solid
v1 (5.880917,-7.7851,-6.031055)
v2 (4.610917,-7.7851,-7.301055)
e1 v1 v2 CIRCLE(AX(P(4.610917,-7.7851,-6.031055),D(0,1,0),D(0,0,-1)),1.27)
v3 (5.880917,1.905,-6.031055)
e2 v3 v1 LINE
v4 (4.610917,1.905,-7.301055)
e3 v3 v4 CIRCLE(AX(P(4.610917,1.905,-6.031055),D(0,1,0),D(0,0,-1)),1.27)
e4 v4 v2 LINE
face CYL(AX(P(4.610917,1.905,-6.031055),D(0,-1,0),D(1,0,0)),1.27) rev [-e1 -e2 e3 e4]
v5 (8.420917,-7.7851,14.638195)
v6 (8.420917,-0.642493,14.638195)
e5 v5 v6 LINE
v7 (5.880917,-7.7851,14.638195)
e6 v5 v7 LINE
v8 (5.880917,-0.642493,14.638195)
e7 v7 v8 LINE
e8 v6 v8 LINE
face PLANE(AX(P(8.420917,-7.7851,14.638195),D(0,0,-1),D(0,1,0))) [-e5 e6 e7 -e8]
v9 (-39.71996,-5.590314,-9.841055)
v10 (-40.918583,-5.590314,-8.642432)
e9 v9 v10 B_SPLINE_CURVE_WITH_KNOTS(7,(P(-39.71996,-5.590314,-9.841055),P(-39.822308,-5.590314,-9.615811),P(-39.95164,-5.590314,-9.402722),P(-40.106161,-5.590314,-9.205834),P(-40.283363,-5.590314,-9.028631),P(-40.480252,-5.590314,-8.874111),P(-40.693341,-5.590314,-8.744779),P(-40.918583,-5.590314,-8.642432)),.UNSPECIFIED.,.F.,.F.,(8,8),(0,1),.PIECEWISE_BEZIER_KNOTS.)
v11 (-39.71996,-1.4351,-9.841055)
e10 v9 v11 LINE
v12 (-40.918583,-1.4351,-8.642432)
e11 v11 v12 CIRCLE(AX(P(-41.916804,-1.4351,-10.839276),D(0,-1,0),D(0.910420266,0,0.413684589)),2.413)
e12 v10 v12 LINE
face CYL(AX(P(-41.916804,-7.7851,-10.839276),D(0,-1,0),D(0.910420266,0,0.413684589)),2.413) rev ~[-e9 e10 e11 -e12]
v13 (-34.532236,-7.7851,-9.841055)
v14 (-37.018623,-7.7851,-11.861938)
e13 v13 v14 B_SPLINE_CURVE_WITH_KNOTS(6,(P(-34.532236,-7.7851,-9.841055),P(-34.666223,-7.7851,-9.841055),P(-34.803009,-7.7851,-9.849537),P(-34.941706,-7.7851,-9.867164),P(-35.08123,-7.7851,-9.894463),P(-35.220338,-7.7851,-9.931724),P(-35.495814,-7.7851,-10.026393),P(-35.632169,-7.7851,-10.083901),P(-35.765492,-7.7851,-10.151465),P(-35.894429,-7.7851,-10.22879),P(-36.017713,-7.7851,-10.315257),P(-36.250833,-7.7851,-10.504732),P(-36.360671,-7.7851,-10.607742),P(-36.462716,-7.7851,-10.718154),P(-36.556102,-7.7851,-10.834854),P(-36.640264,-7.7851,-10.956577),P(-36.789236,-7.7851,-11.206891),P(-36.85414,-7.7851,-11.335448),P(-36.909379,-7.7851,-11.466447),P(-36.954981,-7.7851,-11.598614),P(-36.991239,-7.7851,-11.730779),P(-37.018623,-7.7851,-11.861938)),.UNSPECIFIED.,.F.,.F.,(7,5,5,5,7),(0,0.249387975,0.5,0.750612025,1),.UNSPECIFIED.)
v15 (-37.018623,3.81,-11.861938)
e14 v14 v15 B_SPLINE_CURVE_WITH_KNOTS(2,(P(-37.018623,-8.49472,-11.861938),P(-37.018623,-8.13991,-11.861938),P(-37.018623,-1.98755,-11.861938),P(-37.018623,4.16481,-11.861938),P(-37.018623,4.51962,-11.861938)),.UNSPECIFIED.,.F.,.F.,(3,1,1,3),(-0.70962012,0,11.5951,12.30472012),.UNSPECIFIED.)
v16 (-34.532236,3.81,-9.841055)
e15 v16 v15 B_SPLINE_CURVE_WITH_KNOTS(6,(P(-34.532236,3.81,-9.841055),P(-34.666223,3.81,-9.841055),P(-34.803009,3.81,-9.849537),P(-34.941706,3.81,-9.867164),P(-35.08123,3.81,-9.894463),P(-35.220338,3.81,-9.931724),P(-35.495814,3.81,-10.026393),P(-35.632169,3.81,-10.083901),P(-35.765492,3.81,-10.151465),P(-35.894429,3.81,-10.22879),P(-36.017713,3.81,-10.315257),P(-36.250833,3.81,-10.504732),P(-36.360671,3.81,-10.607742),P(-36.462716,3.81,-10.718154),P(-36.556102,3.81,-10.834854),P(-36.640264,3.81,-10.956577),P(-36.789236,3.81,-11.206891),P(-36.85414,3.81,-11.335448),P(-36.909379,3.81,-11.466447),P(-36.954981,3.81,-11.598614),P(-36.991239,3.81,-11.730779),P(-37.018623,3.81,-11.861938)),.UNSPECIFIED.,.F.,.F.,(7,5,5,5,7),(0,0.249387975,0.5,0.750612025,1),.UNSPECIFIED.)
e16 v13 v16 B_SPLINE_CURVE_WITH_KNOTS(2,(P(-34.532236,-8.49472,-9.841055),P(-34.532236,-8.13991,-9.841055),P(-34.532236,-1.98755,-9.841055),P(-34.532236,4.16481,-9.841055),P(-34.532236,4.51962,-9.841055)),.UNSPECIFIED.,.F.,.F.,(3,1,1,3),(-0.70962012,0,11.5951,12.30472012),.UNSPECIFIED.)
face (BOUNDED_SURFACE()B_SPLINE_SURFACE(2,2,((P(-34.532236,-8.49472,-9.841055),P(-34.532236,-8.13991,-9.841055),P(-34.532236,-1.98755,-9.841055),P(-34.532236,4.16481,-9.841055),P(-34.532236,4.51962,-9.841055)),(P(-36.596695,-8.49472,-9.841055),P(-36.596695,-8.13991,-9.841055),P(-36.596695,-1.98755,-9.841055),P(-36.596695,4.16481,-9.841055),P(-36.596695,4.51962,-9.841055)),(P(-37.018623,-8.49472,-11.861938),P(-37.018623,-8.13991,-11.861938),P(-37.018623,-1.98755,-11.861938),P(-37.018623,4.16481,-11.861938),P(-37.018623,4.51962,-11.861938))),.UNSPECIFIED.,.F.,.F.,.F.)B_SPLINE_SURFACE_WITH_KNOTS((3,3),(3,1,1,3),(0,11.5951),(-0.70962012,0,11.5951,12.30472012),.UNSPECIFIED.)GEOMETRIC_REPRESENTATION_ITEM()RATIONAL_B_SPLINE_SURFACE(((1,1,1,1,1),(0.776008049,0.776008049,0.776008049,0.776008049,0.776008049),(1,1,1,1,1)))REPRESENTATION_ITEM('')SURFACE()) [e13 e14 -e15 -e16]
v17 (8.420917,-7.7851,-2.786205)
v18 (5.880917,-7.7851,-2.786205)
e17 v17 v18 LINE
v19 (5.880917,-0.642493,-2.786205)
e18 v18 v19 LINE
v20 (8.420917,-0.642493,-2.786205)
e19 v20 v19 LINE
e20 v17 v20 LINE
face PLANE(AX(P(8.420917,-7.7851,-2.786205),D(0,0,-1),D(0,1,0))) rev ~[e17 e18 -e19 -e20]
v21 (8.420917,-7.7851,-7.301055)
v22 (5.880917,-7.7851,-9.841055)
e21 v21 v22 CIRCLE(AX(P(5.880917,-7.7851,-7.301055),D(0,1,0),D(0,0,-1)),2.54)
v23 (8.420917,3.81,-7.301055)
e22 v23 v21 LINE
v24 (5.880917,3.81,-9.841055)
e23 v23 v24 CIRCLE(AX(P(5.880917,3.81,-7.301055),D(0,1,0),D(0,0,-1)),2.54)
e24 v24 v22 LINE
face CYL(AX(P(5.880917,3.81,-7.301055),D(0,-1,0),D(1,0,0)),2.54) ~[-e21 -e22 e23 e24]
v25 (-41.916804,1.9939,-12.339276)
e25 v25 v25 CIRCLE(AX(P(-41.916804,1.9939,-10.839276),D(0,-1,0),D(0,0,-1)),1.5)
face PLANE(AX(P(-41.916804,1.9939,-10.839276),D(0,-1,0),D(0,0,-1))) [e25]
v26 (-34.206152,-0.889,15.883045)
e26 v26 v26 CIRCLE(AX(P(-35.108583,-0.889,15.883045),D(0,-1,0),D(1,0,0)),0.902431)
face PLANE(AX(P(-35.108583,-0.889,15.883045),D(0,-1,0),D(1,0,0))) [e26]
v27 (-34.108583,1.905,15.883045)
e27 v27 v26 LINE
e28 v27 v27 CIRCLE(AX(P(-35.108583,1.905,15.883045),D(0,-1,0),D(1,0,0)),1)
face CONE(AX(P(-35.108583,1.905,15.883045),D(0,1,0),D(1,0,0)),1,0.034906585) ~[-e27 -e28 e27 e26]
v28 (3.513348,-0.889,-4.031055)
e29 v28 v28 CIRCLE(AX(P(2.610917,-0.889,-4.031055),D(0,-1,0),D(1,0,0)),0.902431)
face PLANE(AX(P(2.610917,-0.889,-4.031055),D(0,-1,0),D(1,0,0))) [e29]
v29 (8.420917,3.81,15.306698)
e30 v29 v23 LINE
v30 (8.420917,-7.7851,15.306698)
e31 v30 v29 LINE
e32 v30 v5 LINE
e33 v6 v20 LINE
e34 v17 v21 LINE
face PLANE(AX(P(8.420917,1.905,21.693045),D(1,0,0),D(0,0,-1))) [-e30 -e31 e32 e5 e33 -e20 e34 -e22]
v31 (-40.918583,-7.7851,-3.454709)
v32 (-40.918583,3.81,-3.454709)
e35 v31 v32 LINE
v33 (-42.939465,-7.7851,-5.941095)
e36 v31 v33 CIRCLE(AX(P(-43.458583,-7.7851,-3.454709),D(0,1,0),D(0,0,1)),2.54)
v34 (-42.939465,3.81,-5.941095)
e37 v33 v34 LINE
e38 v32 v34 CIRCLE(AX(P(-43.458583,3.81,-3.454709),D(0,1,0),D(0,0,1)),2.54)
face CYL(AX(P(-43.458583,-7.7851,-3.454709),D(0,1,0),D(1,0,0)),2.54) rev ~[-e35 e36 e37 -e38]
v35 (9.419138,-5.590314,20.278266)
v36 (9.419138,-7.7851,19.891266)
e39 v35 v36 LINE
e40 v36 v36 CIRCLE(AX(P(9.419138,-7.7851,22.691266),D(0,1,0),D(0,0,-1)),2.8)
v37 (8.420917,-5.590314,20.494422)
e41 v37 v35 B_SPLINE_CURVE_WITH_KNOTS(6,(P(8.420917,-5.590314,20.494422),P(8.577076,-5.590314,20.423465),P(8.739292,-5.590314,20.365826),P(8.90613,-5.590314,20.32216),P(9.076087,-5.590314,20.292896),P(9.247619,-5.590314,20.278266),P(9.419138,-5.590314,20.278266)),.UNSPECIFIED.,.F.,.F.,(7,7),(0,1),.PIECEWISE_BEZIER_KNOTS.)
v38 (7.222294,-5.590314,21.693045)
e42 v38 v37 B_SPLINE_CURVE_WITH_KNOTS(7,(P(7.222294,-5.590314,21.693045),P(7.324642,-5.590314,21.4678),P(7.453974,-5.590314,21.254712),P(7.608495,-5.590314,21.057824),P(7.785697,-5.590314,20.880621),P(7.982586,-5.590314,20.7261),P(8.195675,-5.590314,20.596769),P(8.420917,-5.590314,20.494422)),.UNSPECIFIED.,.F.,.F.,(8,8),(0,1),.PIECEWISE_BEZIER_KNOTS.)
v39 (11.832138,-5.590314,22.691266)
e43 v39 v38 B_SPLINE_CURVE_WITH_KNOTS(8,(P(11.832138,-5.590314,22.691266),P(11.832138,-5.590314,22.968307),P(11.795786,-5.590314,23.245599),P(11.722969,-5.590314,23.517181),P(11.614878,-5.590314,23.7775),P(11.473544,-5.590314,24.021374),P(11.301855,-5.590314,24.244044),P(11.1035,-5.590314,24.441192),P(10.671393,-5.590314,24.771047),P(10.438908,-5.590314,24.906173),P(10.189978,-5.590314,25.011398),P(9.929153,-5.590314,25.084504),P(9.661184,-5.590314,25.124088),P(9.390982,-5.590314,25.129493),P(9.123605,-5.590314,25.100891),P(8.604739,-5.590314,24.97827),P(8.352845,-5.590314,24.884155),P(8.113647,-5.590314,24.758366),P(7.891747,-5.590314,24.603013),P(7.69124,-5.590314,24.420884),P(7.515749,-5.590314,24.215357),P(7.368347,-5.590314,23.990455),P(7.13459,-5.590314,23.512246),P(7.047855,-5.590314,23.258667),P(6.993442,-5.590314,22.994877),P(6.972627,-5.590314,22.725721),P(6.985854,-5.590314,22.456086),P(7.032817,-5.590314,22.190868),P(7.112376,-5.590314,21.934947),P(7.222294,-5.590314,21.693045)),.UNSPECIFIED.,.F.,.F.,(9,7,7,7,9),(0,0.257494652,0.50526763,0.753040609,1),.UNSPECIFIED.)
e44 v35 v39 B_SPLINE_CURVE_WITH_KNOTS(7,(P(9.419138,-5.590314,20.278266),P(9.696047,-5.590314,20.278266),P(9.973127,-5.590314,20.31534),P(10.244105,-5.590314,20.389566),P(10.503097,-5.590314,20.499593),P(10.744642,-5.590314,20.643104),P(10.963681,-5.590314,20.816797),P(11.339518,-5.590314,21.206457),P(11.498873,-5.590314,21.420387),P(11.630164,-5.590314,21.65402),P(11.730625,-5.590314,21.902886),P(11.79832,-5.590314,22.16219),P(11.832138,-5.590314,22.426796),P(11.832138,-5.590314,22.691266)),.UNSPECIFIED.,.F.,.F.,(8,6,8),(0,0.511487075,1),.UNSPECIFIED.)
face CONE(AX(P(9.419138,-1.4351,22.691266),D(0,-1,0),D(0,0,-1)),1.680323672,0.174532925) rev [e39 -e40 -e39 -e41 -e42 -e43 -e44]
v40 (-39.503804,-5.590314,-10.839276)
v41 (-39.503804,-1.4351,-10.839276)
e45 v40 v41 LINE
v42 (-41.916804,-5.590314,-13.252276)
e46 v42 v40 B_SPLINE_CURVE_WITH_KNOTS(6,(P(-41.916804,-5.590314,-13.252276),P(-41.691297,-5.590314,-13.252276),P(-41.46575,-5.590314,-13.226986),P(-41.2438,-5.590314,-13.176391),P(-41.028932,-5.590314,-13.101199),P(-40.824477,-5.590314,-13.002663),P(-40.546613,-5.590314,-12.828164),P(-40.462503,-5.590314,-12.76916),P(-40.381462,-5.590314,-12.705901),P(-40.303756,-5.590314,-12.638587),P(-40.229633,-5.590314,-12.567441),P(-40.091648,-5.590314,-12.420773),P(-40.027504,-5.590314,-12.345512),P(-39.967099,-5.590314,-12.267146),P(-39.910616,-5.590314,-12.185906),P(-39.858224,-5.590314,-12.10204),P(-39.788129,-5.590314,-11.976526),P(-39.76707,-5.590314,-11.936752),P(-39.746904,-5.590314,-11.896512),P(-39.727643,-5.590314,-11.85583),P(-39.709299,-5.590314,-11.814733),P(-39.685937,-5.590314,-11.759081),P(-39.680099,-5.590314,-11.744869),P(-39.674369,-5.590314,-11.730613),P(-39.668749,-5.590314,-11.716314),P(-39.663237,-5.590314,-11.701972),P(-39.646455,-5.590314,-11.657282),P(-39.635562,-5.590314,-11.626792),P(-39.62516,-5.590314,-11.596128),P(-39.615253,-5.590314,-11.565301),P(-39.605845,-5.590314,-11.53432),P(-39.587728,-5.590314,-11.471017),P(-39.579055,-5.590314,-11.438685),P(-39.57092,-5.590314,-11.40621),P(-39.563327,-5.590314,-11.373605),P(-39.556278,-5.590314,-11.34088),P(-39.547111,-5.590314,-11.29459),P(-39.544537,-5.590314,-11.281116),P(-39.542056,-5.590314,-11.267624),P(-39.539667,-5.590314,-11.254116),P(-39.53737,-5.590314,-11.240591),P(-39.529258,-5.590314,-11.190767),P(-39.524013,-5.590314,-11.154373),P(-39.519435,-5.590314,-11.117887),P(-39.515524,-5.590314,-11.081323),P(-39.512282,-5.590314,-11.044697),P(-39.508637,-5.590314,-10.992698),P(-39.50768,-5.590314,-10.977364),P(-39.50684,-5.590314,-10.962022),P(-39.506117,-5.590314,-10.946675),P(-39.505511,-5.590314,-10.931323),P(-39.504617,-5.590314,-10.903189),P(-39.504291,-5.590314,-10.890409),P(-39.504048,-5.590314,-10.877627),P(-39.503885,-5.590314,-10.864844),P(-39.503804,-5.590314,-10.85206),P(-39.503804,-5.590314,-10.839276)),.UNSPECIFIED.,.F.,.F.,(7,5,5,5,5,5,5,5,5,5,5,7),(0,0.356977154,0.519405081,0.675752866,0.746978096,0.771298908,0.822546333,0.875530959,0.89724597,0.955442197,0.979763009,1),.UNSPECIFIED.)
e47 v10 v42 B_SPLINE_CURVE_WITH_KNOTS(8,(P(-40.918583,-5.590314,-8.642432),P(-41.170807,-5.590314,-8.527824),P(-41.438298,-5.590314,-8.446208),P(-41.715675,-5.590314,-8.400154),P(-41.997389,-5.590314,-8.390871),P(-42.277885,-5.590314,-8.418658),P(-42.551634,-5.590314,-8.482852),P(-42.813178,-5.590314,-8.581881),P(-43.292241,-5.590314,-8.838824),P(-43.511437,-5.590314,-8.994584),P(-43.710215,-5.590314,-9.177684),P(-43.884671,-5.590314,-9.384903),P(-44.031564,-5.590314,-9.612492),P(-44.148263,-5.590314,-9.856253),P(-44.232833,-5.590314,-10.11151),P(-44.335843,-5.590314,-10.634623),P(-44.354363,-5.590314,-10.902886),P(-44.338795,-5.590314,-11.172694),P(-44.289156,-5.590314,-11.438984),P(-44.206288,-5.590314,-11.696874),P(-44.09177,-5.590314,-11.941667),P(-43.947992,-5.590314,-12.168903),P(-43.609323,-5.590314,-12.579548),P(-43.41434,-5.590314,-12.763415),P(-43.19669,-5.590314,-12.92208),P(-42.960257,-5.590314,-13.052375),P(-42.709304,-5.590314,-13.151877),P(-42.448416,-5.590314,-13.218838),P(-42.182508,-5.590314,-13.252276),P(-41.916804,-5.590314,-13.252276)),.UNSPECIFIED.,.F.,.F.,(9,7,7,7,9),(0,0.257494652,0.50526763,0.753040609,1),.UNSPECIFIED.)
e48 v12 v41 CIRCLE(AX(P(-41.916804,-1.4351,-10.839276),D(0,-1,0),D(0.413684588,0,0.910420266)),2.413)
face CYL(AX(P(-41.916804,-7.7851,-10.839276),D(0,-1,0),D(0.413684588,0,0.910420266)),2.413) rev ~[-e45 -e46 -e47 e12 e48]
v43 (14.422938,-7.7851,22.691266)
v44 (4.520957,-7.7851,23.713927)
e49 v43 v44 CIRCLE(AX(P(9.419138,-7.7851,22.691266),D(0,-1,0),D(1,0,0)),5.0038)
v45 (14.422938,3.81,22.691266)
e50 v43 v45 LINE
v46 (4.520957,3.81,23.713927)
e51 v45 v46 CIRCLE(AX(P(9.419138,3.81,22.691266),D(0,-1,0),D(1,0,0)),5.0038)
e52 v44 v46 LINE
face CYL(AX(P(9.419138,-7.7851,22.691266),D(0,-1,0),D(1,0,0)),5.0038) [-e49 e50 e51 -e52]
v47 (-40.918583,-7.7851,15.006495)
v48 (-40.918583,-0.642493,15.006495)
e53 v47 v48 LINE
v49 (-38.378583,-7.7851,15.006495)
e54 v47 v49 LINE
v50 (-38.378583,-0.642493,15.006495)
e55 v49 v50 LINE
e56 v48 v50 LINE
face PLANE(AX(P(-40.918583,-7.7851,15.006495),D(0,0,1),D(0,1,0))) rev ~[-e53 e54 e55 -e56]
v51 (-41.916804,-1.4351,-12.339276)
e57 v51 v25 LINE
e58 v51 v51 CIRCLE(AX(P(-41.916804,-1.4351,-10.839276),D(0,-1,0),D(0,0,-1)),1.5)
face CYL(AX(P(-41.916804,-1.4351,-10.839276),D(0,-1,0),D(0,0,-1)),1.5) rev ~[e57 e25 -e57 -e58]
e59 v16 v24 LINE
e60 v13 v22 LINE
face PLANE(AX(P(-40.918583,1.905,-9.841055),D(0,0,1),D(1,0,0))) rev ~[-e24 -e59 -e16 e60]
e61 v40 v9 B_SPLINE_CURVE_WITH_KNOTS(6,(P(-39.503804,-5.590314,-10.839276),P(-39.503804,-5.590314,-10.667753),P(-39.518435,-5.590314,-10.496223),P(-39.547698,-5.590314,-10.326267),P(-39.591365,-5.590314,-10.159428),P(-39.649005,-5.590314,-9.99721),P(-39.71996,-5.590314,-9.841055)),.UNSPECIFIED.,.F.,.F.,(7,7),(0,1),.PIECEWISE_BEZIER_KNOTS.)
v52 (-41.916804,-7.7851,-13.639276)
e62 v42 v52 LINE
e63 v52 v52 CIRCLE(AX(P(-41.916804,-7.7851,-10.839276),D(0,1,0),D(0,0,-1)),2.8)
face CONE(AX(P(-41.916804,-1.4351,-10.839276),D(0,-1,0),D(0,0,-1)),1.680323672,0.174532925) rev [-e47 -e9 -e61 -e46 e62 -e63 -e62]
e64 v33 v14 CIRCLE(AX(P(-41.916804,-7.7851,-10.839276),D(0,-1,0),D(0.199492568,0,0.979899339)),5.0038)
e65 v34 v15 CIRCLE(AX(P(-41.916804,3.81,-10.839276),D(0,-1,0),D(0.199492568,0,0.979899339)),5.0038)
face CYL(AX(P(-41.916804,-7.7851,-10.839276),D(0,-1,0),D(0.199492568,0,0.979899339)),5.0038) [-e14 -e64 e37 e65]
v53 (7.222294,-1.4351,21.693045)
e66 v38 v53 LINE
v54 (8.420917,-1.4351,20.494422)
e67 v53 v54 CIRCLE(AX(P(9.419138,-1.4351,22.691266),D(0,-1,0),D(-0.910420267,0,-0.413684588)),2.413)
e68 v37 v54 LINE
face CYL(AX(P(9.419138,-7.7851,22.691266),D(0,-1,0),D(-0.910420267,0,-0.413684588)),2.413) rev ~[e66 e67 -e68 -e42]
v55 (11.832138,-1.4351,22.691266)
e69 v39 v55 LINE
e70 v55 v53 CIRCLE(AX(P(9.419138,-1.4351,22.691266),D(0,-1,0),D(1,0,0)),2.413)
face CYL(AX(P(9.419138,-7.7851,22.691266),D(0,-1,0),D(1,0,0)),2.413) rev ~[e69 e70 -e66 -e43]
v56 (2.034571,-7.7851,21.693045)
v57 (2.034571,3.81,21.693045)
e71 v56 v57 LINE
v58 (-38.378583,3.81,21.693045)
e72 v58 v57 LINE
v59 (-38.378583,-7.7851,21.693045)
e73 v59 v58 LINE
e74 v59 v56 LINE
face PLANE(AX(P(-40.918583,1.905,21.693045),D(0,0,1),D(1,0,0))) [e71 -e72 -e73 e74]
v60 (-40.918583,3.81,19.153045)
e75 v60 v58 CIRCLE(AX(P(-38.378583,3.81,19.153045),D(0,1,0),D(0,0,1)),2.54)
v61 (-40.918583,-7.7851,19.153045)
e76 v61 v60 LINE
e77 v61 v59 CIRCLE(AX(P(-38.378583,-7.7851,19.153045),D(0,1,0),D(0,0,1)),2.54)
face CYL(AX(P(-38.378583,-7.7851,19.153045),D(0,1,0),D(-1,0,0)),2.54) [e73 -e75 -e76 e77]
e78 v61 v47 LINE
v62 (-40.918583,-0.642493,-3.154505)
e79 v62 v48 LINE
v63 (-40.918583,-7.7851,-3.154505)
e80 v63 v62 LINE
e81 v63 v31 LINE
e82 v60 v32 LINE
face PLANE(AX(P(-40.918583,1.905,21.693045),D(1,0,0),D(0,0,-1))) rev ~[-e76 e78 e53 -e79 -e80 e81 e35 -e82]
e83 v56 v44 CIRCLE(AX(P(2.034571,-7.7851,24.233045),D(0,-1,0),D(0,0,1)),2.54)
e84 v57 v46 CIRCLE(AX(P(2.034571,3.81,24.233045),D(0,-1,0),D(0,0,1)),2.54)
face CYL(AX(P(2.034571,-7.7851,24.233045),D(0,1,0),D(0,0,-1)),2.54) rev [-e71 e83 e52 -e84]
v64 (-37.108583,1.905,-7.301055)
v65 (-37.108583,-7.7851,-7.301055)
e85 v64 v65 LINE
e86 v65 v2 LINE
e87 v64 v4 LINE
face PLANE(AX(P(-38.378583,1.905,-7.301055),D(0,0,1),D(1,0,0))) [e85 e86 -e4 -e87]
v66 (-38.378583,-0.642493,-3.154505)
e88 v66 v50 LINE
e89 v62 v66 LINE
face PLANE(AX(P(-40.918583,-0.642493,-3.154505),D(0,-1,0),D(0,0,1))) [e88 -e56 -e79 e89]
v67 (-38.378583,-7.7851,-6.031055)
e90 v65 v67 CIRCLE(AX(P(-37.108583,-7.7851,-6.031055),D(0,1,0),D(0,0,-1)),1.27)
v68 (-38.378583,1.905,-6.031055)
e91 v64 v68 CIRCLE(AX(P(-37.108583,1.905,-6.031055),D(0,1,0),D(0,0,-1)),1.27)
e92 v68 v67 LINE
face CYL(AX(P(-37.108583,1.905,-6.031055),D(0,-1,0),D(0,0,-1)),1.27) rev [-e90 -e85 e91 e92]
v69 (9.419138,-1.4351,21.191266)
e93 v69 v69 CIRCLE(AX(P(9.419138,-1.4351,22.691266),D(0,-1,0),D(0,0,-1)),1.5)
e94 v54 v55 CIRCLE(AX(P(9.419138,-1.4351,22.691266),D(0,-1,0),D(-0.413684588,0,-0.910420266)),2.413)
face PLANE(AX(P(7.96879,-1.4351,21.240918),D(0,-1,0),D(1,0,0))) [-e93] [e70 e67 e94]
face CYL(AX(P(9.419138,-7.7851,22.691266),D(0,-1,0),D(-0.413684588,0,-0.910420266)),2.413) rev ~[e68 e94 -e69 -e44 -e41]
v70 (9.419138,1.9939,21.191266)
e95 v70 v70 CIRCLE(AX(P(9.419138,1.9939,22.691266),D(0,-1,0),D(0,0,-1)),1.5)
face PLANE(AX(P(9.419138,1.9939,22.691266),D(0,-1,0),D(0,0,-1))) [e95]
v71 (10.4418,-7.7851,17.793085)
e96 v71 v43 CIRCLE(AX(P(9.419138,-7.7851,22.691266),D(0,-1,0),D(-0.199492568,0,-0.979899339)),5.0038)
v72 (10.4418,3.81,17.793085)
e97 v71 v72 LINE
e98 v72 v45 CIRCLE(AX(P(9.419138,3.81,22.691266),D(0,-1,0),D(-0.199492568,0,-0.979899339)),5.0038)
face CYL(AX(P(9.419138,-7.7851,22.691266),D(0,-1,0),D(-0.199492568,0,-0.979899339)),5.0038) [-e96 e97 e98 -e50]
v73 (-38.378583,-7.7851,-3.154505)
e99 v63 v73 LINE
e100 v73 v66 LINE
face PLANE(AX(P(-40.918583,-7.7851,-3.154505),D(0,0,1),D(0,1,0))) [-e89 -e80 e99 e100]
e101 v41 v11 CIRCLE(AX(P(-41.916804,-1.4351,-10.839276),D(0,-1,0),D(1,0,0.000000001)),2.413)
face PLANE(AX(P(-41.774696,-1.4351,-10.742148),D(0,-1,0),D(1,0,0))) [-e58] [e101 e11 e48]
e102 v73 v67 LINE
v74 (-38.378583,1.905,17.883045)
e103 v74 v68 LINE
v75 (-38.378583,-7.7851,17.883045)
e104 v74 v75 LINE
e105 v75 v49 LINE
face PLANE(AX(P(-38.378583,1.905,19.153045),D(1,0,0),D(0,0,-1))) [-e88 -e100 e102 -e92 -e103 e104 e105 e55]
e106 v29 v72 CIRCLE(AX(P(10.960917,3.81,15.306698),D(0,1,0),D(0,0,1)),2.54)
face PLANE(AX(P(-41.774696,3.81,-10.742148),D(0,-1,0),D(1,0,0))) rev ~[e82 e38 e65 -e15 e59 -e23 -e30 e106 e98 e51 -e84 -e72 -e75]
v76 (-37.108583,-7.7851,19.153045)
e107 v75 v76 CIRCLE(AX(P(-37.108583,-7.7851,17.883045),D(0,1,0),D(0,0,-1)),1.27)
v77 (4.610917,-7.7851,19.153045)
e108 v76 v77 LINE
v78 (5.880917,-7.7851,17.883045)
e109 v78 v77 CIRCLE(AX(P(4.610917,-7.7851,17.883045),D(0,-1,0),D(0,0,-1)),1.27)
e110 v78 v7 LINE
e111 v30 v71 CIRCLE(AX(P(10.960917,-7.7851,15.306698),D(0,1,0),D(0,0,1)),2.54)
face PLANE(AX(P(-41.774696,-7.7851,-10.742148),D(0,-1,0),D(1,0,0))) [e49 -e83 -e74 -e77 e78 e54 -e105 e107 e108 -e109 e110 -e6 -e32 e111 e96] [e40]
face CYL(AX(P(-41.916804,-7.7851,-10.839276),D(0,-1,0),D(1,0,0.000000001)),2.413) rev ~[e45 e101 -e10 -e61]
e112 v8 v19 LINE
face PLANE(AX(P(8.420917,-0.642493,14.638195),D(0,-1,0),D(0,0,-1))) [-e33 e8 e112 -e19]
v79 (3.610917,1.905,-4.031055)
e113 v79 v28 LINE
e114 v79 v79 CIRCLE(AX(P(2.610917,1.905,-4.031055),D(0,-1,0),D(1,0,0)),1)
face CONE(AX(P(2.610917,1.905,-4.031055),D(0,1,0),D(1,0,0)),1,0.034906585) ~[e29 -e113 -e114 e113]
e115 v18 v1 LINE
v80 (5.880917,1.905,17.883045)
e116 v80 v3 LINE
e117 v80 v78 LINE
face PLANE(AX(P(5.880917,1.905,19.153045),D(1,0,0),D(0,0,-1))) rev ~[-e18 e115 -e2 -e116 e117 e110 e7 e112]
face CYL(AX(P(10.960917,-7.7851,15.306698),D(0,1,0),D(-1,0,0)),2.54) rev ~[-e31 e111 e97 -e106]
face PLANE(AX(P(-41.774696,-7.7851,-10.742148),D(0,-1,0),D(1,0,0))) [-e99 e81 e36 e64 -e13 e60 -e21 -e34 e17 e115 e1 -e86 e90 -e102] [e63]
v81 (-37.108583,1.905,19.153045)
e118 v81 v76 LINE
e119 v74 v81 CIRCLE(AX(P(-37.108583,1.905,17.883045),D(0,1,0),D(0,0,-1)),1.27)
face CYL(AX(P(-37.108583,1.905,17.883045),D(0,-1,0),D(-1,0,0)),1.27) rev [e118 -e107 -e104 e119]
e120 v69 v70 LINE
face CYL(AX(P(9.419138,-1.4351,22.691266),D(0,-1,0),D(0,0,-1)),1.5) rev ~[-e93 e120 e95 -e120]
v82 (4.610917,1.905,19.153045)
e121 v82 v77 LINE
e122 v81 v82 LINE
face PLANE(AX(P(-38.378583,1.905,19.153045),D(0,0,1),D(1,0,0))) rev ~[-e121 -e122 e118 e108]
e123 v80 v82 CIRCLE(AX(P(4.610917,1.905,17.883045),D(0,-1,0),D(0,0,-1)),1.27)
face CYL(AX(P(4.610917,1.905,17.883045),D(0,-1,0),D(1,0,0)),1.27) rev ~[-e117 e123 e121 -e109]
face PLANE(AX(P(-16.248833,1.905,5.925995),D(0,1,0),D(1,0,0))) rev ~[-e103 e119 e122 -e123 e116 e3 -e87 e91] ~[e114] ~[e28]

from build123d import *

# Parameters (mm, degrees)
SKETCH2_W                     = 49.3395
SKETCH2_H                     = 31.5341
SKETCH2_W_2                   = 44.2595
SKETCH2_H_2                   = 26.4541
BOSS_EXTRUDE1_DEPTH           = 1.905
SKETCH2_3_W                   = 49.3395
SKETCH2_3_H                   = 31.5341
SKETCH2_3_W_2                 = 44.2595
SKETCH2_3_H_2                 = 26.4541
BOSS_EXTRUDE2_DEPTH           = 9.6901
BOSS_EXTRUDE4_DEPTH           = 11.5951
CUT_EXTRUDE1_DEPTH            = 6.35
SKETCH6_R                     = 1.5
CUT_EXTRUDE2_DEPTH            = 3.429
SKETCH9_R                     = 1
BOSS_EXTRUDE6_DEPTH           = 2.794
BOSS_EXTRUDE6_DRAFT           = 2
BOSS_EXTRUDE6_PROFILE_2_DEPTH = 2.794
BOSS_EXTRUDE6_PROFILE_2_DRAFT = 2
SKETCH10_W                    = 17.4244
SKETCH10_H                    = 7.142607
CUT_EXTRUDE3_DEPTH            = 2.54
SKETCH11_W                    = 18.161
SKETCH11_H                    = 7.142607
CUT_EXTRUDE4_DEPTH            = 2.54
FILLET1_R                     = 2.54
FILLET2_R                     = 1.27
FILLET3_R                     = 2.54


with BuildPart() as part:
    # Sketch2 → Boss-Extrude1 (new body)
    # profile 1 of 2: a face of its own
    with BuildSketch(Plane(origin=(-16.248832885, 1.905, 5.92599481), x_dir=(1, 0, 0), z_dir=(0, 1, 0))):
        Rectangle(SKETCH2_W, SKETCH2_H)
        Rectangle(SKETCH2_W_2, SKETCH2_H_2, mode=Mode.SUBTRACT)
    # profile 2 of 2: a face of its own
    with BuildSketch(Plane(origin=(-16.248832885, 1.905, 5.92599481), x_dir=(1, 0, 0), z_dir=(0, 1, 0))):
        Rectangle(SKETCH2_W_2, SKETCH2_H_2)
    extrude(amount=BOSS_EXTRUDE1_DEPTH)

    # Sketch2<3> → Boss-Extrude2 (add)
    with BuildSketch(Plane(origin=(-16.248832885, 1.905, 5.92599481), x_dir=(1, 0, 0), z_dir=(0, 1, 0))):
        Rectangle(SKETCH2_3_W, SKETCH2_3_H)
        Rectangle(SKETCH2_3_W_2, SKETCH2_3_H_2, mode=Mode.SUBTRACT)
    extrude(amount=-BOSS_EXTRUDE2_DEPTH)

    # Sketch4 → Boss-Extrude4 (add)
    with BuildSketch(Plane.XZ.offset(7.7851)):
        with BuildLine():
            Line((-40.918582885, -9.84105519), (-40.918582885, -8.642431999))
            ThreePointArc((-40.918582885, -8.642431999), (-43.945507331, -12.145771785), (-39.503803797, -10.839276102))
            ThreePointArc((-39.503803797, -10.839276102), (-39.558461814, -10.328598033), (-39.719959694, -9.84105519))
            Line((-39.719959694, -9.84105519), (-40.918582885, -9.84105519))
        make_face()
        with BuildLine():
            ThreePointArc((-39.719959694, -9.84105519), (-40.210555134, -9.133027439), (-40.918582885, -8.642431999))
            Line((-40.918582885, -8.642431999), (-40.918582885, -9.84105519))
            Line((-40.918582885, -9.84105519), (-39.719959694, -9.84105519))
        make_face()
        with BuildLine():
            Line((-40.918582885, -8.642431999), (-40.918582885, -5.936055787))
            ThreePointArc((-40.918582885, -5.936055787), (-45.791911037, -14.004960596), (-36.913003797, -10.839276102))
            ThreePointArc((-36.913003797, -10.839276102), (-36.938212217, -10.337638468), (-37.013583483, -9.84105519))
            Line((-37.013583483, -9.84105519), (-39.719959694, -9.84105519))
            ThreePointArc((-39.719959694, -9.84105519), (-39.558461814, -10.328598033), (-39.503803797, -10.839276102))
            ThreePointArc((-39.503803797, -10.839276102), (-43.945507331, -12.145771785), (-40.918582885, -8.642431999))
        make_face()
        with BuildLine():
            ThreePointArc((-37.013583483, -9.84105519), (-38.378582885, -7.30105519), (-40.918582885, -5.936055787))
            Line((-40.918582885, -5.936055787), (-40.918582885, -8.642431999))
            ThreePointArc((-40.918582885, -8.642431999), (-40.210555134, -9.133027439), (-39.719959694, -9.84105519))
            Line((-39.719959694, -9.84105519), (-37.013583483, -9.84105519))
        make_face()
        with BuildLine():
            Line((8.420917115, 21.69304481), (7.222293924, 21.69304481))
            ThreePointArc((7.222293924, 21.69304481), (7.712889363, 20.985017059), (8.420917115, 20.494421619))
            Line((8.420917115, 20.494421619), (8.420917115, 21.69304481))
        make_face()
        with BuildLine():
            ThreePointArc((11.832138026, 22.691265722), (8.908459957, 25.049607705), (7.222293924, 21.69304481))
            Line((7.222293924, 21.69304481), (8.420917115, 21.69304481))
            Line((8.420917115, 21.69304481), (8.420917115, 20.494421619))
            ThreePointArc((8.420917115, 20.494421619), (10.72563371, 20.662562188), (11.832138026, 22.691265722))
        make_face()
        with BuildLine():
            ThreePointArc((8.420917115, 17.788045407), (12.584822521, 18.816158482), (14.422938026, 22.691265722))
            ThreePointArc((14.422938026, 22.691265722), (8.917500393, 27.669857302), (4.515917712, 21.69304481))
            Line((4.515917712, 21.69304481), (7.222293924, 21.69304481))
            ThreePointArc((7.222293924, 21.69304481), (8.908459957, 25.049607705), (11.832138026, 22.691265722))
            ThreePointArc((11.832138026, 22.691265722), (10.72563371, 20.662562188), (8.420917115, 20.494421619))
            Line((8.420917115, 20.494421619), (8.420917115, 17.788045407))
        make_face()
        with BuildLine():
            Line((7.222293924, 21.69304481), (4.515917712, 21.69304481))
            ThreePointArc((4.515917712, 21.69304481), (5.880917115, 19.15304481), (8.420917115, 17.788045407))
            Line((8.420917115, 17.788045407), (8.420917115, 20.494421619))
            ThreePointArc((8.420917115, 20.494421619), (7.712889363, 20.985017059), (7.222293924, 21.69304481))
        make_face()
    extrude(amount=-BOSS_EXTRUDE4_DEPTH)

    # Sketch4<3> → Cut-Extrude1 (cut)
    with BuildSketch(Plane.XZ.offset(7.7851)):
        with BuildLine():
            Line((-40.918582885, -9.84105519), (-40.918582885, -8.642431999))
            ThreePointArc((-40.918582885, -8.642431999), (-43.945507331, -12.145771785), (-39.503803797, -10.839276102))
            ThreePointArc((-39.503803797, -10.839276102), (-39.558461814, -10.328598033), (-39.719959694, -9.84105519))
            Line((-39.719959694, -9.84105519), (-40.918582885, -9.84105519))
        make_face()
        with BuildLine():
            ThreePointArc((-39.719959694, -9.84105519), (-40.210555134, -9.133027439), (-40.918582885, -8.642431999))
            Line((-40.918582885, -8.642431999), (-40.918582885, -9.84105519))
            Line((-40.918582885, -9.84105519), (-39.719959694, -9.84105519))
        make_face()
        with BuildLine():
            Line((8.420917115, 21.69304481), (7.222293924, 21.69304481))
            ThreePointArc((7.222293924, 21.69304481), (7.712889363, 20.985017059), (8.420917115, 20.494421619))
            Line((8.420917115, 20.494421619), (8.420917115, 21.69304481))
        make_face()
        with BuildLine():
            ThreePointArc((11.832138026, 22.691265722), (8.908459957, 25.049607705), (7.222293924, 21.69304481))
            Line((7.222293924, 21.69304481), (8.420917115, 21.69304481))
            Line((8.420917115, 21.69304481), (8.420917115, 20.494421619))
            ThreePointArc((8.420917115, 20.494421619), (10.72563371, 20.662562188), (11.832138026, 22.691265722))
        make_face()
    extrude(amount=-CUT_EXTRUDE1_DEPTH, mode=Mode.SUBTRACT)

    # Sketch6 → Cut-Extrude2 (cut)
    with BuildSketch(Plane.XZ.offset(1.4351)):
        with Locations(Location((9.419138026, 22.691265722, 0), (0, 0, 270))):
            Circle(SKETCH6_R)
        with Locations(Location((-41.916803797, -10.839276102, 0), (0, 0, 270))):
            Circle(SKETCH6_R)
    extrude(amount=-CUT_EXTRUDE2_DEPTH, mode=Mode.SUBTRACT)

    # Sketch7 → Cut-Revolve1 (revolve, cut)
    with BuildSketch(Plane(origin=(0, 0, -10.839276102), x_dir=(0, -1, 0), z_dir=(0, 0, -1)), mode=Mode.PRIVATE) as cut_revolve1_sk:
        Polygon((1.4351, 43.597127469), (7.7851, 44.716803797), (7.7851, 41.916803797), (1.4351, 41.916803797), align=None)
    revolve(cut_revolve1_sk.sketch.rotate(Axis((-41.916803797, -7.7851, -10.839276102), (0, 1, 0)), 270), axis=Axis((-41.916803797, -7.7851, -10.839276102), (0, 1, 0)), mode=Mode.SUBTRACT)

    # Sketch8 → Cut-Revolve2 (revolve, cut)
    with BuildSketch(Plane(origin=(9.419138026, 0, 0), x_dir=(0, -1, 0), z_dir=(-1, 0, 0)), mode=Mode.PRIVATE) as cut_revolve2_sk:
        Polygon((1.4351, 24.371589394), (7.7851, 25.491265722), (7.7851, 22.691265722), (1.4351, 22.691265722), align=None)
    revolve(cut_revolve2_sk.sketch.rotate(Axis((9.419138026, -7.7851, 22.691265722), (0, 1, 0)), 180), axis=Axis((9.419138026, -7.7851, 22.691265722), (0, 1, 0)), mode=Mode.SUBTRACT)


with BuildPart() as boss_extrude6_tool:
    # Sketch9 → Boss-Extrude6 (with draft: the straight prism first)
    with BuildSketch(Plane.XZ.offset(-1.905)):
        with Locations((-35.108582885, 15.88304481)):
            Circle(SKETCH9_R)
    extrude(amount=BOSS_EXTRUDE6_DEPTH)
    # Boss-Extrude6: the draft: its side faces are tilted about the plane it starts from
    boss_extrude6_sides = [boss_extrude6_tool.faces().sort_by_distance(p)[0] for p in [
        (-36.108582885, 0.508, 15.88304481),
    ]]
    draft(boss_extrude6_sides, Plane.XZ.offset(-1.905), BOSS_EXTRUDE6_DRAFT)


with BuildPart() as part_1:
    add(part.part)

    # Boss-Extrude6: add boss_extrude6_tool
    add(boss_extrude6_tool.part)


with BuildPart() as boss_extrude6_profile_2_tool:
    # Sketch9 → Boss-Extrude6 profile 2 (with draft: the straight prism first)
    with BuildSketch(Plane.XZ.offset(-1.905)):
        with Locations((2.610917115, -4.03105519)):
            Circle(SKETCH9_R)
    extrude(amount=BOSS_EXTRUDE6_PROFILE_2_DEPTH)
    # Boss-Extrude6 profile 2: the draft: its side faces are tilted about the plane it starts from
    boss_extrude6_profile_2_sides = [boss_extrude6_profile_2_tool.faces().sort_by_distance(p)[0] for p in [
        (1.610917115, 0.508, -4.03105519),
    ]]
    draft(boss_extrude6_profile_2_sides, Plane.XZ.offset(-1.905), BOSS_EXTRUDE6_PROFILE_2_DRAFT)


with BuildPart() as part_2:
    add(part_1.part)

    # Boss-Extrude6 profile 2: add boss_extrude6_profile_2_tool
    add(boss_extrude6_profile_2_tool.part)

    # Sketch10 → Cut-Extrude3 (cut)
    with BuildSketch(Plane(origin=(8.420917115, 0, 0), x_dir=(0, 0, -1), z_dir=(1, 0, 0))):
        with Locations((-5.92599481, -4.2137965)):
            Rectangle(SKETCH10_W, SKETCH10_H)
    extrude(amount=-CUT_EXTRUDE3_DEPTH, mode=Mode.SUBTRACT)

    # Sketch11 → Cut-Extrude4 (cut)
    with BuildSketch(Plane.ZY.offset(40.918582885)):
        with Locations((5.92599481, -4.2137965)):
            Rectangle(SKETCH11_W, SKETCH11_H)
    extrude(amount=-CUT_EXTRUDE4_DEPTH, mode=Mode.SUBTRACT)

    # Fillet1
    fillet1_edges = [part_2.edges().sort_by_distance(p)[0] for p in [
        (-40.918582885, -1.98755, 21.69304481),
        (8.420917115, -1.98755, -9.84105519),
    ]]
    fillet(fillet1_edges, radius=FILLET1_R)

    # Fillet2
    fillet2_edges = [part_2.edges().sort_by_distance(p)[0] for p in [
        (-38.378582885, -2.94005, 19.15304481),
        (5.880917115, -2.94005, 19.15304481),
        (5.880917115, -2.94005, -7.30105519),
        (-38.378582885, -2.94005, -7.30105519),
    ]]
    fillet(fillet2_edges, radius=FILLET2_R)

    # Fillet3
    fillet3_edges = [part_2.edges().sort_by_distance(p)[0] for p in [
        (-37.013583483, -1.98755, -9.84105519),
        (-40.918582885, -1.98755, -5.936055787),
        (4.515917712, -1.98755, 21.69304481),
        (8.420917115, -1.98755, 17.788045407),
    ]]
    fillet(fillet3_edges, radius=FILLET3_R)


solid = part_2.part
